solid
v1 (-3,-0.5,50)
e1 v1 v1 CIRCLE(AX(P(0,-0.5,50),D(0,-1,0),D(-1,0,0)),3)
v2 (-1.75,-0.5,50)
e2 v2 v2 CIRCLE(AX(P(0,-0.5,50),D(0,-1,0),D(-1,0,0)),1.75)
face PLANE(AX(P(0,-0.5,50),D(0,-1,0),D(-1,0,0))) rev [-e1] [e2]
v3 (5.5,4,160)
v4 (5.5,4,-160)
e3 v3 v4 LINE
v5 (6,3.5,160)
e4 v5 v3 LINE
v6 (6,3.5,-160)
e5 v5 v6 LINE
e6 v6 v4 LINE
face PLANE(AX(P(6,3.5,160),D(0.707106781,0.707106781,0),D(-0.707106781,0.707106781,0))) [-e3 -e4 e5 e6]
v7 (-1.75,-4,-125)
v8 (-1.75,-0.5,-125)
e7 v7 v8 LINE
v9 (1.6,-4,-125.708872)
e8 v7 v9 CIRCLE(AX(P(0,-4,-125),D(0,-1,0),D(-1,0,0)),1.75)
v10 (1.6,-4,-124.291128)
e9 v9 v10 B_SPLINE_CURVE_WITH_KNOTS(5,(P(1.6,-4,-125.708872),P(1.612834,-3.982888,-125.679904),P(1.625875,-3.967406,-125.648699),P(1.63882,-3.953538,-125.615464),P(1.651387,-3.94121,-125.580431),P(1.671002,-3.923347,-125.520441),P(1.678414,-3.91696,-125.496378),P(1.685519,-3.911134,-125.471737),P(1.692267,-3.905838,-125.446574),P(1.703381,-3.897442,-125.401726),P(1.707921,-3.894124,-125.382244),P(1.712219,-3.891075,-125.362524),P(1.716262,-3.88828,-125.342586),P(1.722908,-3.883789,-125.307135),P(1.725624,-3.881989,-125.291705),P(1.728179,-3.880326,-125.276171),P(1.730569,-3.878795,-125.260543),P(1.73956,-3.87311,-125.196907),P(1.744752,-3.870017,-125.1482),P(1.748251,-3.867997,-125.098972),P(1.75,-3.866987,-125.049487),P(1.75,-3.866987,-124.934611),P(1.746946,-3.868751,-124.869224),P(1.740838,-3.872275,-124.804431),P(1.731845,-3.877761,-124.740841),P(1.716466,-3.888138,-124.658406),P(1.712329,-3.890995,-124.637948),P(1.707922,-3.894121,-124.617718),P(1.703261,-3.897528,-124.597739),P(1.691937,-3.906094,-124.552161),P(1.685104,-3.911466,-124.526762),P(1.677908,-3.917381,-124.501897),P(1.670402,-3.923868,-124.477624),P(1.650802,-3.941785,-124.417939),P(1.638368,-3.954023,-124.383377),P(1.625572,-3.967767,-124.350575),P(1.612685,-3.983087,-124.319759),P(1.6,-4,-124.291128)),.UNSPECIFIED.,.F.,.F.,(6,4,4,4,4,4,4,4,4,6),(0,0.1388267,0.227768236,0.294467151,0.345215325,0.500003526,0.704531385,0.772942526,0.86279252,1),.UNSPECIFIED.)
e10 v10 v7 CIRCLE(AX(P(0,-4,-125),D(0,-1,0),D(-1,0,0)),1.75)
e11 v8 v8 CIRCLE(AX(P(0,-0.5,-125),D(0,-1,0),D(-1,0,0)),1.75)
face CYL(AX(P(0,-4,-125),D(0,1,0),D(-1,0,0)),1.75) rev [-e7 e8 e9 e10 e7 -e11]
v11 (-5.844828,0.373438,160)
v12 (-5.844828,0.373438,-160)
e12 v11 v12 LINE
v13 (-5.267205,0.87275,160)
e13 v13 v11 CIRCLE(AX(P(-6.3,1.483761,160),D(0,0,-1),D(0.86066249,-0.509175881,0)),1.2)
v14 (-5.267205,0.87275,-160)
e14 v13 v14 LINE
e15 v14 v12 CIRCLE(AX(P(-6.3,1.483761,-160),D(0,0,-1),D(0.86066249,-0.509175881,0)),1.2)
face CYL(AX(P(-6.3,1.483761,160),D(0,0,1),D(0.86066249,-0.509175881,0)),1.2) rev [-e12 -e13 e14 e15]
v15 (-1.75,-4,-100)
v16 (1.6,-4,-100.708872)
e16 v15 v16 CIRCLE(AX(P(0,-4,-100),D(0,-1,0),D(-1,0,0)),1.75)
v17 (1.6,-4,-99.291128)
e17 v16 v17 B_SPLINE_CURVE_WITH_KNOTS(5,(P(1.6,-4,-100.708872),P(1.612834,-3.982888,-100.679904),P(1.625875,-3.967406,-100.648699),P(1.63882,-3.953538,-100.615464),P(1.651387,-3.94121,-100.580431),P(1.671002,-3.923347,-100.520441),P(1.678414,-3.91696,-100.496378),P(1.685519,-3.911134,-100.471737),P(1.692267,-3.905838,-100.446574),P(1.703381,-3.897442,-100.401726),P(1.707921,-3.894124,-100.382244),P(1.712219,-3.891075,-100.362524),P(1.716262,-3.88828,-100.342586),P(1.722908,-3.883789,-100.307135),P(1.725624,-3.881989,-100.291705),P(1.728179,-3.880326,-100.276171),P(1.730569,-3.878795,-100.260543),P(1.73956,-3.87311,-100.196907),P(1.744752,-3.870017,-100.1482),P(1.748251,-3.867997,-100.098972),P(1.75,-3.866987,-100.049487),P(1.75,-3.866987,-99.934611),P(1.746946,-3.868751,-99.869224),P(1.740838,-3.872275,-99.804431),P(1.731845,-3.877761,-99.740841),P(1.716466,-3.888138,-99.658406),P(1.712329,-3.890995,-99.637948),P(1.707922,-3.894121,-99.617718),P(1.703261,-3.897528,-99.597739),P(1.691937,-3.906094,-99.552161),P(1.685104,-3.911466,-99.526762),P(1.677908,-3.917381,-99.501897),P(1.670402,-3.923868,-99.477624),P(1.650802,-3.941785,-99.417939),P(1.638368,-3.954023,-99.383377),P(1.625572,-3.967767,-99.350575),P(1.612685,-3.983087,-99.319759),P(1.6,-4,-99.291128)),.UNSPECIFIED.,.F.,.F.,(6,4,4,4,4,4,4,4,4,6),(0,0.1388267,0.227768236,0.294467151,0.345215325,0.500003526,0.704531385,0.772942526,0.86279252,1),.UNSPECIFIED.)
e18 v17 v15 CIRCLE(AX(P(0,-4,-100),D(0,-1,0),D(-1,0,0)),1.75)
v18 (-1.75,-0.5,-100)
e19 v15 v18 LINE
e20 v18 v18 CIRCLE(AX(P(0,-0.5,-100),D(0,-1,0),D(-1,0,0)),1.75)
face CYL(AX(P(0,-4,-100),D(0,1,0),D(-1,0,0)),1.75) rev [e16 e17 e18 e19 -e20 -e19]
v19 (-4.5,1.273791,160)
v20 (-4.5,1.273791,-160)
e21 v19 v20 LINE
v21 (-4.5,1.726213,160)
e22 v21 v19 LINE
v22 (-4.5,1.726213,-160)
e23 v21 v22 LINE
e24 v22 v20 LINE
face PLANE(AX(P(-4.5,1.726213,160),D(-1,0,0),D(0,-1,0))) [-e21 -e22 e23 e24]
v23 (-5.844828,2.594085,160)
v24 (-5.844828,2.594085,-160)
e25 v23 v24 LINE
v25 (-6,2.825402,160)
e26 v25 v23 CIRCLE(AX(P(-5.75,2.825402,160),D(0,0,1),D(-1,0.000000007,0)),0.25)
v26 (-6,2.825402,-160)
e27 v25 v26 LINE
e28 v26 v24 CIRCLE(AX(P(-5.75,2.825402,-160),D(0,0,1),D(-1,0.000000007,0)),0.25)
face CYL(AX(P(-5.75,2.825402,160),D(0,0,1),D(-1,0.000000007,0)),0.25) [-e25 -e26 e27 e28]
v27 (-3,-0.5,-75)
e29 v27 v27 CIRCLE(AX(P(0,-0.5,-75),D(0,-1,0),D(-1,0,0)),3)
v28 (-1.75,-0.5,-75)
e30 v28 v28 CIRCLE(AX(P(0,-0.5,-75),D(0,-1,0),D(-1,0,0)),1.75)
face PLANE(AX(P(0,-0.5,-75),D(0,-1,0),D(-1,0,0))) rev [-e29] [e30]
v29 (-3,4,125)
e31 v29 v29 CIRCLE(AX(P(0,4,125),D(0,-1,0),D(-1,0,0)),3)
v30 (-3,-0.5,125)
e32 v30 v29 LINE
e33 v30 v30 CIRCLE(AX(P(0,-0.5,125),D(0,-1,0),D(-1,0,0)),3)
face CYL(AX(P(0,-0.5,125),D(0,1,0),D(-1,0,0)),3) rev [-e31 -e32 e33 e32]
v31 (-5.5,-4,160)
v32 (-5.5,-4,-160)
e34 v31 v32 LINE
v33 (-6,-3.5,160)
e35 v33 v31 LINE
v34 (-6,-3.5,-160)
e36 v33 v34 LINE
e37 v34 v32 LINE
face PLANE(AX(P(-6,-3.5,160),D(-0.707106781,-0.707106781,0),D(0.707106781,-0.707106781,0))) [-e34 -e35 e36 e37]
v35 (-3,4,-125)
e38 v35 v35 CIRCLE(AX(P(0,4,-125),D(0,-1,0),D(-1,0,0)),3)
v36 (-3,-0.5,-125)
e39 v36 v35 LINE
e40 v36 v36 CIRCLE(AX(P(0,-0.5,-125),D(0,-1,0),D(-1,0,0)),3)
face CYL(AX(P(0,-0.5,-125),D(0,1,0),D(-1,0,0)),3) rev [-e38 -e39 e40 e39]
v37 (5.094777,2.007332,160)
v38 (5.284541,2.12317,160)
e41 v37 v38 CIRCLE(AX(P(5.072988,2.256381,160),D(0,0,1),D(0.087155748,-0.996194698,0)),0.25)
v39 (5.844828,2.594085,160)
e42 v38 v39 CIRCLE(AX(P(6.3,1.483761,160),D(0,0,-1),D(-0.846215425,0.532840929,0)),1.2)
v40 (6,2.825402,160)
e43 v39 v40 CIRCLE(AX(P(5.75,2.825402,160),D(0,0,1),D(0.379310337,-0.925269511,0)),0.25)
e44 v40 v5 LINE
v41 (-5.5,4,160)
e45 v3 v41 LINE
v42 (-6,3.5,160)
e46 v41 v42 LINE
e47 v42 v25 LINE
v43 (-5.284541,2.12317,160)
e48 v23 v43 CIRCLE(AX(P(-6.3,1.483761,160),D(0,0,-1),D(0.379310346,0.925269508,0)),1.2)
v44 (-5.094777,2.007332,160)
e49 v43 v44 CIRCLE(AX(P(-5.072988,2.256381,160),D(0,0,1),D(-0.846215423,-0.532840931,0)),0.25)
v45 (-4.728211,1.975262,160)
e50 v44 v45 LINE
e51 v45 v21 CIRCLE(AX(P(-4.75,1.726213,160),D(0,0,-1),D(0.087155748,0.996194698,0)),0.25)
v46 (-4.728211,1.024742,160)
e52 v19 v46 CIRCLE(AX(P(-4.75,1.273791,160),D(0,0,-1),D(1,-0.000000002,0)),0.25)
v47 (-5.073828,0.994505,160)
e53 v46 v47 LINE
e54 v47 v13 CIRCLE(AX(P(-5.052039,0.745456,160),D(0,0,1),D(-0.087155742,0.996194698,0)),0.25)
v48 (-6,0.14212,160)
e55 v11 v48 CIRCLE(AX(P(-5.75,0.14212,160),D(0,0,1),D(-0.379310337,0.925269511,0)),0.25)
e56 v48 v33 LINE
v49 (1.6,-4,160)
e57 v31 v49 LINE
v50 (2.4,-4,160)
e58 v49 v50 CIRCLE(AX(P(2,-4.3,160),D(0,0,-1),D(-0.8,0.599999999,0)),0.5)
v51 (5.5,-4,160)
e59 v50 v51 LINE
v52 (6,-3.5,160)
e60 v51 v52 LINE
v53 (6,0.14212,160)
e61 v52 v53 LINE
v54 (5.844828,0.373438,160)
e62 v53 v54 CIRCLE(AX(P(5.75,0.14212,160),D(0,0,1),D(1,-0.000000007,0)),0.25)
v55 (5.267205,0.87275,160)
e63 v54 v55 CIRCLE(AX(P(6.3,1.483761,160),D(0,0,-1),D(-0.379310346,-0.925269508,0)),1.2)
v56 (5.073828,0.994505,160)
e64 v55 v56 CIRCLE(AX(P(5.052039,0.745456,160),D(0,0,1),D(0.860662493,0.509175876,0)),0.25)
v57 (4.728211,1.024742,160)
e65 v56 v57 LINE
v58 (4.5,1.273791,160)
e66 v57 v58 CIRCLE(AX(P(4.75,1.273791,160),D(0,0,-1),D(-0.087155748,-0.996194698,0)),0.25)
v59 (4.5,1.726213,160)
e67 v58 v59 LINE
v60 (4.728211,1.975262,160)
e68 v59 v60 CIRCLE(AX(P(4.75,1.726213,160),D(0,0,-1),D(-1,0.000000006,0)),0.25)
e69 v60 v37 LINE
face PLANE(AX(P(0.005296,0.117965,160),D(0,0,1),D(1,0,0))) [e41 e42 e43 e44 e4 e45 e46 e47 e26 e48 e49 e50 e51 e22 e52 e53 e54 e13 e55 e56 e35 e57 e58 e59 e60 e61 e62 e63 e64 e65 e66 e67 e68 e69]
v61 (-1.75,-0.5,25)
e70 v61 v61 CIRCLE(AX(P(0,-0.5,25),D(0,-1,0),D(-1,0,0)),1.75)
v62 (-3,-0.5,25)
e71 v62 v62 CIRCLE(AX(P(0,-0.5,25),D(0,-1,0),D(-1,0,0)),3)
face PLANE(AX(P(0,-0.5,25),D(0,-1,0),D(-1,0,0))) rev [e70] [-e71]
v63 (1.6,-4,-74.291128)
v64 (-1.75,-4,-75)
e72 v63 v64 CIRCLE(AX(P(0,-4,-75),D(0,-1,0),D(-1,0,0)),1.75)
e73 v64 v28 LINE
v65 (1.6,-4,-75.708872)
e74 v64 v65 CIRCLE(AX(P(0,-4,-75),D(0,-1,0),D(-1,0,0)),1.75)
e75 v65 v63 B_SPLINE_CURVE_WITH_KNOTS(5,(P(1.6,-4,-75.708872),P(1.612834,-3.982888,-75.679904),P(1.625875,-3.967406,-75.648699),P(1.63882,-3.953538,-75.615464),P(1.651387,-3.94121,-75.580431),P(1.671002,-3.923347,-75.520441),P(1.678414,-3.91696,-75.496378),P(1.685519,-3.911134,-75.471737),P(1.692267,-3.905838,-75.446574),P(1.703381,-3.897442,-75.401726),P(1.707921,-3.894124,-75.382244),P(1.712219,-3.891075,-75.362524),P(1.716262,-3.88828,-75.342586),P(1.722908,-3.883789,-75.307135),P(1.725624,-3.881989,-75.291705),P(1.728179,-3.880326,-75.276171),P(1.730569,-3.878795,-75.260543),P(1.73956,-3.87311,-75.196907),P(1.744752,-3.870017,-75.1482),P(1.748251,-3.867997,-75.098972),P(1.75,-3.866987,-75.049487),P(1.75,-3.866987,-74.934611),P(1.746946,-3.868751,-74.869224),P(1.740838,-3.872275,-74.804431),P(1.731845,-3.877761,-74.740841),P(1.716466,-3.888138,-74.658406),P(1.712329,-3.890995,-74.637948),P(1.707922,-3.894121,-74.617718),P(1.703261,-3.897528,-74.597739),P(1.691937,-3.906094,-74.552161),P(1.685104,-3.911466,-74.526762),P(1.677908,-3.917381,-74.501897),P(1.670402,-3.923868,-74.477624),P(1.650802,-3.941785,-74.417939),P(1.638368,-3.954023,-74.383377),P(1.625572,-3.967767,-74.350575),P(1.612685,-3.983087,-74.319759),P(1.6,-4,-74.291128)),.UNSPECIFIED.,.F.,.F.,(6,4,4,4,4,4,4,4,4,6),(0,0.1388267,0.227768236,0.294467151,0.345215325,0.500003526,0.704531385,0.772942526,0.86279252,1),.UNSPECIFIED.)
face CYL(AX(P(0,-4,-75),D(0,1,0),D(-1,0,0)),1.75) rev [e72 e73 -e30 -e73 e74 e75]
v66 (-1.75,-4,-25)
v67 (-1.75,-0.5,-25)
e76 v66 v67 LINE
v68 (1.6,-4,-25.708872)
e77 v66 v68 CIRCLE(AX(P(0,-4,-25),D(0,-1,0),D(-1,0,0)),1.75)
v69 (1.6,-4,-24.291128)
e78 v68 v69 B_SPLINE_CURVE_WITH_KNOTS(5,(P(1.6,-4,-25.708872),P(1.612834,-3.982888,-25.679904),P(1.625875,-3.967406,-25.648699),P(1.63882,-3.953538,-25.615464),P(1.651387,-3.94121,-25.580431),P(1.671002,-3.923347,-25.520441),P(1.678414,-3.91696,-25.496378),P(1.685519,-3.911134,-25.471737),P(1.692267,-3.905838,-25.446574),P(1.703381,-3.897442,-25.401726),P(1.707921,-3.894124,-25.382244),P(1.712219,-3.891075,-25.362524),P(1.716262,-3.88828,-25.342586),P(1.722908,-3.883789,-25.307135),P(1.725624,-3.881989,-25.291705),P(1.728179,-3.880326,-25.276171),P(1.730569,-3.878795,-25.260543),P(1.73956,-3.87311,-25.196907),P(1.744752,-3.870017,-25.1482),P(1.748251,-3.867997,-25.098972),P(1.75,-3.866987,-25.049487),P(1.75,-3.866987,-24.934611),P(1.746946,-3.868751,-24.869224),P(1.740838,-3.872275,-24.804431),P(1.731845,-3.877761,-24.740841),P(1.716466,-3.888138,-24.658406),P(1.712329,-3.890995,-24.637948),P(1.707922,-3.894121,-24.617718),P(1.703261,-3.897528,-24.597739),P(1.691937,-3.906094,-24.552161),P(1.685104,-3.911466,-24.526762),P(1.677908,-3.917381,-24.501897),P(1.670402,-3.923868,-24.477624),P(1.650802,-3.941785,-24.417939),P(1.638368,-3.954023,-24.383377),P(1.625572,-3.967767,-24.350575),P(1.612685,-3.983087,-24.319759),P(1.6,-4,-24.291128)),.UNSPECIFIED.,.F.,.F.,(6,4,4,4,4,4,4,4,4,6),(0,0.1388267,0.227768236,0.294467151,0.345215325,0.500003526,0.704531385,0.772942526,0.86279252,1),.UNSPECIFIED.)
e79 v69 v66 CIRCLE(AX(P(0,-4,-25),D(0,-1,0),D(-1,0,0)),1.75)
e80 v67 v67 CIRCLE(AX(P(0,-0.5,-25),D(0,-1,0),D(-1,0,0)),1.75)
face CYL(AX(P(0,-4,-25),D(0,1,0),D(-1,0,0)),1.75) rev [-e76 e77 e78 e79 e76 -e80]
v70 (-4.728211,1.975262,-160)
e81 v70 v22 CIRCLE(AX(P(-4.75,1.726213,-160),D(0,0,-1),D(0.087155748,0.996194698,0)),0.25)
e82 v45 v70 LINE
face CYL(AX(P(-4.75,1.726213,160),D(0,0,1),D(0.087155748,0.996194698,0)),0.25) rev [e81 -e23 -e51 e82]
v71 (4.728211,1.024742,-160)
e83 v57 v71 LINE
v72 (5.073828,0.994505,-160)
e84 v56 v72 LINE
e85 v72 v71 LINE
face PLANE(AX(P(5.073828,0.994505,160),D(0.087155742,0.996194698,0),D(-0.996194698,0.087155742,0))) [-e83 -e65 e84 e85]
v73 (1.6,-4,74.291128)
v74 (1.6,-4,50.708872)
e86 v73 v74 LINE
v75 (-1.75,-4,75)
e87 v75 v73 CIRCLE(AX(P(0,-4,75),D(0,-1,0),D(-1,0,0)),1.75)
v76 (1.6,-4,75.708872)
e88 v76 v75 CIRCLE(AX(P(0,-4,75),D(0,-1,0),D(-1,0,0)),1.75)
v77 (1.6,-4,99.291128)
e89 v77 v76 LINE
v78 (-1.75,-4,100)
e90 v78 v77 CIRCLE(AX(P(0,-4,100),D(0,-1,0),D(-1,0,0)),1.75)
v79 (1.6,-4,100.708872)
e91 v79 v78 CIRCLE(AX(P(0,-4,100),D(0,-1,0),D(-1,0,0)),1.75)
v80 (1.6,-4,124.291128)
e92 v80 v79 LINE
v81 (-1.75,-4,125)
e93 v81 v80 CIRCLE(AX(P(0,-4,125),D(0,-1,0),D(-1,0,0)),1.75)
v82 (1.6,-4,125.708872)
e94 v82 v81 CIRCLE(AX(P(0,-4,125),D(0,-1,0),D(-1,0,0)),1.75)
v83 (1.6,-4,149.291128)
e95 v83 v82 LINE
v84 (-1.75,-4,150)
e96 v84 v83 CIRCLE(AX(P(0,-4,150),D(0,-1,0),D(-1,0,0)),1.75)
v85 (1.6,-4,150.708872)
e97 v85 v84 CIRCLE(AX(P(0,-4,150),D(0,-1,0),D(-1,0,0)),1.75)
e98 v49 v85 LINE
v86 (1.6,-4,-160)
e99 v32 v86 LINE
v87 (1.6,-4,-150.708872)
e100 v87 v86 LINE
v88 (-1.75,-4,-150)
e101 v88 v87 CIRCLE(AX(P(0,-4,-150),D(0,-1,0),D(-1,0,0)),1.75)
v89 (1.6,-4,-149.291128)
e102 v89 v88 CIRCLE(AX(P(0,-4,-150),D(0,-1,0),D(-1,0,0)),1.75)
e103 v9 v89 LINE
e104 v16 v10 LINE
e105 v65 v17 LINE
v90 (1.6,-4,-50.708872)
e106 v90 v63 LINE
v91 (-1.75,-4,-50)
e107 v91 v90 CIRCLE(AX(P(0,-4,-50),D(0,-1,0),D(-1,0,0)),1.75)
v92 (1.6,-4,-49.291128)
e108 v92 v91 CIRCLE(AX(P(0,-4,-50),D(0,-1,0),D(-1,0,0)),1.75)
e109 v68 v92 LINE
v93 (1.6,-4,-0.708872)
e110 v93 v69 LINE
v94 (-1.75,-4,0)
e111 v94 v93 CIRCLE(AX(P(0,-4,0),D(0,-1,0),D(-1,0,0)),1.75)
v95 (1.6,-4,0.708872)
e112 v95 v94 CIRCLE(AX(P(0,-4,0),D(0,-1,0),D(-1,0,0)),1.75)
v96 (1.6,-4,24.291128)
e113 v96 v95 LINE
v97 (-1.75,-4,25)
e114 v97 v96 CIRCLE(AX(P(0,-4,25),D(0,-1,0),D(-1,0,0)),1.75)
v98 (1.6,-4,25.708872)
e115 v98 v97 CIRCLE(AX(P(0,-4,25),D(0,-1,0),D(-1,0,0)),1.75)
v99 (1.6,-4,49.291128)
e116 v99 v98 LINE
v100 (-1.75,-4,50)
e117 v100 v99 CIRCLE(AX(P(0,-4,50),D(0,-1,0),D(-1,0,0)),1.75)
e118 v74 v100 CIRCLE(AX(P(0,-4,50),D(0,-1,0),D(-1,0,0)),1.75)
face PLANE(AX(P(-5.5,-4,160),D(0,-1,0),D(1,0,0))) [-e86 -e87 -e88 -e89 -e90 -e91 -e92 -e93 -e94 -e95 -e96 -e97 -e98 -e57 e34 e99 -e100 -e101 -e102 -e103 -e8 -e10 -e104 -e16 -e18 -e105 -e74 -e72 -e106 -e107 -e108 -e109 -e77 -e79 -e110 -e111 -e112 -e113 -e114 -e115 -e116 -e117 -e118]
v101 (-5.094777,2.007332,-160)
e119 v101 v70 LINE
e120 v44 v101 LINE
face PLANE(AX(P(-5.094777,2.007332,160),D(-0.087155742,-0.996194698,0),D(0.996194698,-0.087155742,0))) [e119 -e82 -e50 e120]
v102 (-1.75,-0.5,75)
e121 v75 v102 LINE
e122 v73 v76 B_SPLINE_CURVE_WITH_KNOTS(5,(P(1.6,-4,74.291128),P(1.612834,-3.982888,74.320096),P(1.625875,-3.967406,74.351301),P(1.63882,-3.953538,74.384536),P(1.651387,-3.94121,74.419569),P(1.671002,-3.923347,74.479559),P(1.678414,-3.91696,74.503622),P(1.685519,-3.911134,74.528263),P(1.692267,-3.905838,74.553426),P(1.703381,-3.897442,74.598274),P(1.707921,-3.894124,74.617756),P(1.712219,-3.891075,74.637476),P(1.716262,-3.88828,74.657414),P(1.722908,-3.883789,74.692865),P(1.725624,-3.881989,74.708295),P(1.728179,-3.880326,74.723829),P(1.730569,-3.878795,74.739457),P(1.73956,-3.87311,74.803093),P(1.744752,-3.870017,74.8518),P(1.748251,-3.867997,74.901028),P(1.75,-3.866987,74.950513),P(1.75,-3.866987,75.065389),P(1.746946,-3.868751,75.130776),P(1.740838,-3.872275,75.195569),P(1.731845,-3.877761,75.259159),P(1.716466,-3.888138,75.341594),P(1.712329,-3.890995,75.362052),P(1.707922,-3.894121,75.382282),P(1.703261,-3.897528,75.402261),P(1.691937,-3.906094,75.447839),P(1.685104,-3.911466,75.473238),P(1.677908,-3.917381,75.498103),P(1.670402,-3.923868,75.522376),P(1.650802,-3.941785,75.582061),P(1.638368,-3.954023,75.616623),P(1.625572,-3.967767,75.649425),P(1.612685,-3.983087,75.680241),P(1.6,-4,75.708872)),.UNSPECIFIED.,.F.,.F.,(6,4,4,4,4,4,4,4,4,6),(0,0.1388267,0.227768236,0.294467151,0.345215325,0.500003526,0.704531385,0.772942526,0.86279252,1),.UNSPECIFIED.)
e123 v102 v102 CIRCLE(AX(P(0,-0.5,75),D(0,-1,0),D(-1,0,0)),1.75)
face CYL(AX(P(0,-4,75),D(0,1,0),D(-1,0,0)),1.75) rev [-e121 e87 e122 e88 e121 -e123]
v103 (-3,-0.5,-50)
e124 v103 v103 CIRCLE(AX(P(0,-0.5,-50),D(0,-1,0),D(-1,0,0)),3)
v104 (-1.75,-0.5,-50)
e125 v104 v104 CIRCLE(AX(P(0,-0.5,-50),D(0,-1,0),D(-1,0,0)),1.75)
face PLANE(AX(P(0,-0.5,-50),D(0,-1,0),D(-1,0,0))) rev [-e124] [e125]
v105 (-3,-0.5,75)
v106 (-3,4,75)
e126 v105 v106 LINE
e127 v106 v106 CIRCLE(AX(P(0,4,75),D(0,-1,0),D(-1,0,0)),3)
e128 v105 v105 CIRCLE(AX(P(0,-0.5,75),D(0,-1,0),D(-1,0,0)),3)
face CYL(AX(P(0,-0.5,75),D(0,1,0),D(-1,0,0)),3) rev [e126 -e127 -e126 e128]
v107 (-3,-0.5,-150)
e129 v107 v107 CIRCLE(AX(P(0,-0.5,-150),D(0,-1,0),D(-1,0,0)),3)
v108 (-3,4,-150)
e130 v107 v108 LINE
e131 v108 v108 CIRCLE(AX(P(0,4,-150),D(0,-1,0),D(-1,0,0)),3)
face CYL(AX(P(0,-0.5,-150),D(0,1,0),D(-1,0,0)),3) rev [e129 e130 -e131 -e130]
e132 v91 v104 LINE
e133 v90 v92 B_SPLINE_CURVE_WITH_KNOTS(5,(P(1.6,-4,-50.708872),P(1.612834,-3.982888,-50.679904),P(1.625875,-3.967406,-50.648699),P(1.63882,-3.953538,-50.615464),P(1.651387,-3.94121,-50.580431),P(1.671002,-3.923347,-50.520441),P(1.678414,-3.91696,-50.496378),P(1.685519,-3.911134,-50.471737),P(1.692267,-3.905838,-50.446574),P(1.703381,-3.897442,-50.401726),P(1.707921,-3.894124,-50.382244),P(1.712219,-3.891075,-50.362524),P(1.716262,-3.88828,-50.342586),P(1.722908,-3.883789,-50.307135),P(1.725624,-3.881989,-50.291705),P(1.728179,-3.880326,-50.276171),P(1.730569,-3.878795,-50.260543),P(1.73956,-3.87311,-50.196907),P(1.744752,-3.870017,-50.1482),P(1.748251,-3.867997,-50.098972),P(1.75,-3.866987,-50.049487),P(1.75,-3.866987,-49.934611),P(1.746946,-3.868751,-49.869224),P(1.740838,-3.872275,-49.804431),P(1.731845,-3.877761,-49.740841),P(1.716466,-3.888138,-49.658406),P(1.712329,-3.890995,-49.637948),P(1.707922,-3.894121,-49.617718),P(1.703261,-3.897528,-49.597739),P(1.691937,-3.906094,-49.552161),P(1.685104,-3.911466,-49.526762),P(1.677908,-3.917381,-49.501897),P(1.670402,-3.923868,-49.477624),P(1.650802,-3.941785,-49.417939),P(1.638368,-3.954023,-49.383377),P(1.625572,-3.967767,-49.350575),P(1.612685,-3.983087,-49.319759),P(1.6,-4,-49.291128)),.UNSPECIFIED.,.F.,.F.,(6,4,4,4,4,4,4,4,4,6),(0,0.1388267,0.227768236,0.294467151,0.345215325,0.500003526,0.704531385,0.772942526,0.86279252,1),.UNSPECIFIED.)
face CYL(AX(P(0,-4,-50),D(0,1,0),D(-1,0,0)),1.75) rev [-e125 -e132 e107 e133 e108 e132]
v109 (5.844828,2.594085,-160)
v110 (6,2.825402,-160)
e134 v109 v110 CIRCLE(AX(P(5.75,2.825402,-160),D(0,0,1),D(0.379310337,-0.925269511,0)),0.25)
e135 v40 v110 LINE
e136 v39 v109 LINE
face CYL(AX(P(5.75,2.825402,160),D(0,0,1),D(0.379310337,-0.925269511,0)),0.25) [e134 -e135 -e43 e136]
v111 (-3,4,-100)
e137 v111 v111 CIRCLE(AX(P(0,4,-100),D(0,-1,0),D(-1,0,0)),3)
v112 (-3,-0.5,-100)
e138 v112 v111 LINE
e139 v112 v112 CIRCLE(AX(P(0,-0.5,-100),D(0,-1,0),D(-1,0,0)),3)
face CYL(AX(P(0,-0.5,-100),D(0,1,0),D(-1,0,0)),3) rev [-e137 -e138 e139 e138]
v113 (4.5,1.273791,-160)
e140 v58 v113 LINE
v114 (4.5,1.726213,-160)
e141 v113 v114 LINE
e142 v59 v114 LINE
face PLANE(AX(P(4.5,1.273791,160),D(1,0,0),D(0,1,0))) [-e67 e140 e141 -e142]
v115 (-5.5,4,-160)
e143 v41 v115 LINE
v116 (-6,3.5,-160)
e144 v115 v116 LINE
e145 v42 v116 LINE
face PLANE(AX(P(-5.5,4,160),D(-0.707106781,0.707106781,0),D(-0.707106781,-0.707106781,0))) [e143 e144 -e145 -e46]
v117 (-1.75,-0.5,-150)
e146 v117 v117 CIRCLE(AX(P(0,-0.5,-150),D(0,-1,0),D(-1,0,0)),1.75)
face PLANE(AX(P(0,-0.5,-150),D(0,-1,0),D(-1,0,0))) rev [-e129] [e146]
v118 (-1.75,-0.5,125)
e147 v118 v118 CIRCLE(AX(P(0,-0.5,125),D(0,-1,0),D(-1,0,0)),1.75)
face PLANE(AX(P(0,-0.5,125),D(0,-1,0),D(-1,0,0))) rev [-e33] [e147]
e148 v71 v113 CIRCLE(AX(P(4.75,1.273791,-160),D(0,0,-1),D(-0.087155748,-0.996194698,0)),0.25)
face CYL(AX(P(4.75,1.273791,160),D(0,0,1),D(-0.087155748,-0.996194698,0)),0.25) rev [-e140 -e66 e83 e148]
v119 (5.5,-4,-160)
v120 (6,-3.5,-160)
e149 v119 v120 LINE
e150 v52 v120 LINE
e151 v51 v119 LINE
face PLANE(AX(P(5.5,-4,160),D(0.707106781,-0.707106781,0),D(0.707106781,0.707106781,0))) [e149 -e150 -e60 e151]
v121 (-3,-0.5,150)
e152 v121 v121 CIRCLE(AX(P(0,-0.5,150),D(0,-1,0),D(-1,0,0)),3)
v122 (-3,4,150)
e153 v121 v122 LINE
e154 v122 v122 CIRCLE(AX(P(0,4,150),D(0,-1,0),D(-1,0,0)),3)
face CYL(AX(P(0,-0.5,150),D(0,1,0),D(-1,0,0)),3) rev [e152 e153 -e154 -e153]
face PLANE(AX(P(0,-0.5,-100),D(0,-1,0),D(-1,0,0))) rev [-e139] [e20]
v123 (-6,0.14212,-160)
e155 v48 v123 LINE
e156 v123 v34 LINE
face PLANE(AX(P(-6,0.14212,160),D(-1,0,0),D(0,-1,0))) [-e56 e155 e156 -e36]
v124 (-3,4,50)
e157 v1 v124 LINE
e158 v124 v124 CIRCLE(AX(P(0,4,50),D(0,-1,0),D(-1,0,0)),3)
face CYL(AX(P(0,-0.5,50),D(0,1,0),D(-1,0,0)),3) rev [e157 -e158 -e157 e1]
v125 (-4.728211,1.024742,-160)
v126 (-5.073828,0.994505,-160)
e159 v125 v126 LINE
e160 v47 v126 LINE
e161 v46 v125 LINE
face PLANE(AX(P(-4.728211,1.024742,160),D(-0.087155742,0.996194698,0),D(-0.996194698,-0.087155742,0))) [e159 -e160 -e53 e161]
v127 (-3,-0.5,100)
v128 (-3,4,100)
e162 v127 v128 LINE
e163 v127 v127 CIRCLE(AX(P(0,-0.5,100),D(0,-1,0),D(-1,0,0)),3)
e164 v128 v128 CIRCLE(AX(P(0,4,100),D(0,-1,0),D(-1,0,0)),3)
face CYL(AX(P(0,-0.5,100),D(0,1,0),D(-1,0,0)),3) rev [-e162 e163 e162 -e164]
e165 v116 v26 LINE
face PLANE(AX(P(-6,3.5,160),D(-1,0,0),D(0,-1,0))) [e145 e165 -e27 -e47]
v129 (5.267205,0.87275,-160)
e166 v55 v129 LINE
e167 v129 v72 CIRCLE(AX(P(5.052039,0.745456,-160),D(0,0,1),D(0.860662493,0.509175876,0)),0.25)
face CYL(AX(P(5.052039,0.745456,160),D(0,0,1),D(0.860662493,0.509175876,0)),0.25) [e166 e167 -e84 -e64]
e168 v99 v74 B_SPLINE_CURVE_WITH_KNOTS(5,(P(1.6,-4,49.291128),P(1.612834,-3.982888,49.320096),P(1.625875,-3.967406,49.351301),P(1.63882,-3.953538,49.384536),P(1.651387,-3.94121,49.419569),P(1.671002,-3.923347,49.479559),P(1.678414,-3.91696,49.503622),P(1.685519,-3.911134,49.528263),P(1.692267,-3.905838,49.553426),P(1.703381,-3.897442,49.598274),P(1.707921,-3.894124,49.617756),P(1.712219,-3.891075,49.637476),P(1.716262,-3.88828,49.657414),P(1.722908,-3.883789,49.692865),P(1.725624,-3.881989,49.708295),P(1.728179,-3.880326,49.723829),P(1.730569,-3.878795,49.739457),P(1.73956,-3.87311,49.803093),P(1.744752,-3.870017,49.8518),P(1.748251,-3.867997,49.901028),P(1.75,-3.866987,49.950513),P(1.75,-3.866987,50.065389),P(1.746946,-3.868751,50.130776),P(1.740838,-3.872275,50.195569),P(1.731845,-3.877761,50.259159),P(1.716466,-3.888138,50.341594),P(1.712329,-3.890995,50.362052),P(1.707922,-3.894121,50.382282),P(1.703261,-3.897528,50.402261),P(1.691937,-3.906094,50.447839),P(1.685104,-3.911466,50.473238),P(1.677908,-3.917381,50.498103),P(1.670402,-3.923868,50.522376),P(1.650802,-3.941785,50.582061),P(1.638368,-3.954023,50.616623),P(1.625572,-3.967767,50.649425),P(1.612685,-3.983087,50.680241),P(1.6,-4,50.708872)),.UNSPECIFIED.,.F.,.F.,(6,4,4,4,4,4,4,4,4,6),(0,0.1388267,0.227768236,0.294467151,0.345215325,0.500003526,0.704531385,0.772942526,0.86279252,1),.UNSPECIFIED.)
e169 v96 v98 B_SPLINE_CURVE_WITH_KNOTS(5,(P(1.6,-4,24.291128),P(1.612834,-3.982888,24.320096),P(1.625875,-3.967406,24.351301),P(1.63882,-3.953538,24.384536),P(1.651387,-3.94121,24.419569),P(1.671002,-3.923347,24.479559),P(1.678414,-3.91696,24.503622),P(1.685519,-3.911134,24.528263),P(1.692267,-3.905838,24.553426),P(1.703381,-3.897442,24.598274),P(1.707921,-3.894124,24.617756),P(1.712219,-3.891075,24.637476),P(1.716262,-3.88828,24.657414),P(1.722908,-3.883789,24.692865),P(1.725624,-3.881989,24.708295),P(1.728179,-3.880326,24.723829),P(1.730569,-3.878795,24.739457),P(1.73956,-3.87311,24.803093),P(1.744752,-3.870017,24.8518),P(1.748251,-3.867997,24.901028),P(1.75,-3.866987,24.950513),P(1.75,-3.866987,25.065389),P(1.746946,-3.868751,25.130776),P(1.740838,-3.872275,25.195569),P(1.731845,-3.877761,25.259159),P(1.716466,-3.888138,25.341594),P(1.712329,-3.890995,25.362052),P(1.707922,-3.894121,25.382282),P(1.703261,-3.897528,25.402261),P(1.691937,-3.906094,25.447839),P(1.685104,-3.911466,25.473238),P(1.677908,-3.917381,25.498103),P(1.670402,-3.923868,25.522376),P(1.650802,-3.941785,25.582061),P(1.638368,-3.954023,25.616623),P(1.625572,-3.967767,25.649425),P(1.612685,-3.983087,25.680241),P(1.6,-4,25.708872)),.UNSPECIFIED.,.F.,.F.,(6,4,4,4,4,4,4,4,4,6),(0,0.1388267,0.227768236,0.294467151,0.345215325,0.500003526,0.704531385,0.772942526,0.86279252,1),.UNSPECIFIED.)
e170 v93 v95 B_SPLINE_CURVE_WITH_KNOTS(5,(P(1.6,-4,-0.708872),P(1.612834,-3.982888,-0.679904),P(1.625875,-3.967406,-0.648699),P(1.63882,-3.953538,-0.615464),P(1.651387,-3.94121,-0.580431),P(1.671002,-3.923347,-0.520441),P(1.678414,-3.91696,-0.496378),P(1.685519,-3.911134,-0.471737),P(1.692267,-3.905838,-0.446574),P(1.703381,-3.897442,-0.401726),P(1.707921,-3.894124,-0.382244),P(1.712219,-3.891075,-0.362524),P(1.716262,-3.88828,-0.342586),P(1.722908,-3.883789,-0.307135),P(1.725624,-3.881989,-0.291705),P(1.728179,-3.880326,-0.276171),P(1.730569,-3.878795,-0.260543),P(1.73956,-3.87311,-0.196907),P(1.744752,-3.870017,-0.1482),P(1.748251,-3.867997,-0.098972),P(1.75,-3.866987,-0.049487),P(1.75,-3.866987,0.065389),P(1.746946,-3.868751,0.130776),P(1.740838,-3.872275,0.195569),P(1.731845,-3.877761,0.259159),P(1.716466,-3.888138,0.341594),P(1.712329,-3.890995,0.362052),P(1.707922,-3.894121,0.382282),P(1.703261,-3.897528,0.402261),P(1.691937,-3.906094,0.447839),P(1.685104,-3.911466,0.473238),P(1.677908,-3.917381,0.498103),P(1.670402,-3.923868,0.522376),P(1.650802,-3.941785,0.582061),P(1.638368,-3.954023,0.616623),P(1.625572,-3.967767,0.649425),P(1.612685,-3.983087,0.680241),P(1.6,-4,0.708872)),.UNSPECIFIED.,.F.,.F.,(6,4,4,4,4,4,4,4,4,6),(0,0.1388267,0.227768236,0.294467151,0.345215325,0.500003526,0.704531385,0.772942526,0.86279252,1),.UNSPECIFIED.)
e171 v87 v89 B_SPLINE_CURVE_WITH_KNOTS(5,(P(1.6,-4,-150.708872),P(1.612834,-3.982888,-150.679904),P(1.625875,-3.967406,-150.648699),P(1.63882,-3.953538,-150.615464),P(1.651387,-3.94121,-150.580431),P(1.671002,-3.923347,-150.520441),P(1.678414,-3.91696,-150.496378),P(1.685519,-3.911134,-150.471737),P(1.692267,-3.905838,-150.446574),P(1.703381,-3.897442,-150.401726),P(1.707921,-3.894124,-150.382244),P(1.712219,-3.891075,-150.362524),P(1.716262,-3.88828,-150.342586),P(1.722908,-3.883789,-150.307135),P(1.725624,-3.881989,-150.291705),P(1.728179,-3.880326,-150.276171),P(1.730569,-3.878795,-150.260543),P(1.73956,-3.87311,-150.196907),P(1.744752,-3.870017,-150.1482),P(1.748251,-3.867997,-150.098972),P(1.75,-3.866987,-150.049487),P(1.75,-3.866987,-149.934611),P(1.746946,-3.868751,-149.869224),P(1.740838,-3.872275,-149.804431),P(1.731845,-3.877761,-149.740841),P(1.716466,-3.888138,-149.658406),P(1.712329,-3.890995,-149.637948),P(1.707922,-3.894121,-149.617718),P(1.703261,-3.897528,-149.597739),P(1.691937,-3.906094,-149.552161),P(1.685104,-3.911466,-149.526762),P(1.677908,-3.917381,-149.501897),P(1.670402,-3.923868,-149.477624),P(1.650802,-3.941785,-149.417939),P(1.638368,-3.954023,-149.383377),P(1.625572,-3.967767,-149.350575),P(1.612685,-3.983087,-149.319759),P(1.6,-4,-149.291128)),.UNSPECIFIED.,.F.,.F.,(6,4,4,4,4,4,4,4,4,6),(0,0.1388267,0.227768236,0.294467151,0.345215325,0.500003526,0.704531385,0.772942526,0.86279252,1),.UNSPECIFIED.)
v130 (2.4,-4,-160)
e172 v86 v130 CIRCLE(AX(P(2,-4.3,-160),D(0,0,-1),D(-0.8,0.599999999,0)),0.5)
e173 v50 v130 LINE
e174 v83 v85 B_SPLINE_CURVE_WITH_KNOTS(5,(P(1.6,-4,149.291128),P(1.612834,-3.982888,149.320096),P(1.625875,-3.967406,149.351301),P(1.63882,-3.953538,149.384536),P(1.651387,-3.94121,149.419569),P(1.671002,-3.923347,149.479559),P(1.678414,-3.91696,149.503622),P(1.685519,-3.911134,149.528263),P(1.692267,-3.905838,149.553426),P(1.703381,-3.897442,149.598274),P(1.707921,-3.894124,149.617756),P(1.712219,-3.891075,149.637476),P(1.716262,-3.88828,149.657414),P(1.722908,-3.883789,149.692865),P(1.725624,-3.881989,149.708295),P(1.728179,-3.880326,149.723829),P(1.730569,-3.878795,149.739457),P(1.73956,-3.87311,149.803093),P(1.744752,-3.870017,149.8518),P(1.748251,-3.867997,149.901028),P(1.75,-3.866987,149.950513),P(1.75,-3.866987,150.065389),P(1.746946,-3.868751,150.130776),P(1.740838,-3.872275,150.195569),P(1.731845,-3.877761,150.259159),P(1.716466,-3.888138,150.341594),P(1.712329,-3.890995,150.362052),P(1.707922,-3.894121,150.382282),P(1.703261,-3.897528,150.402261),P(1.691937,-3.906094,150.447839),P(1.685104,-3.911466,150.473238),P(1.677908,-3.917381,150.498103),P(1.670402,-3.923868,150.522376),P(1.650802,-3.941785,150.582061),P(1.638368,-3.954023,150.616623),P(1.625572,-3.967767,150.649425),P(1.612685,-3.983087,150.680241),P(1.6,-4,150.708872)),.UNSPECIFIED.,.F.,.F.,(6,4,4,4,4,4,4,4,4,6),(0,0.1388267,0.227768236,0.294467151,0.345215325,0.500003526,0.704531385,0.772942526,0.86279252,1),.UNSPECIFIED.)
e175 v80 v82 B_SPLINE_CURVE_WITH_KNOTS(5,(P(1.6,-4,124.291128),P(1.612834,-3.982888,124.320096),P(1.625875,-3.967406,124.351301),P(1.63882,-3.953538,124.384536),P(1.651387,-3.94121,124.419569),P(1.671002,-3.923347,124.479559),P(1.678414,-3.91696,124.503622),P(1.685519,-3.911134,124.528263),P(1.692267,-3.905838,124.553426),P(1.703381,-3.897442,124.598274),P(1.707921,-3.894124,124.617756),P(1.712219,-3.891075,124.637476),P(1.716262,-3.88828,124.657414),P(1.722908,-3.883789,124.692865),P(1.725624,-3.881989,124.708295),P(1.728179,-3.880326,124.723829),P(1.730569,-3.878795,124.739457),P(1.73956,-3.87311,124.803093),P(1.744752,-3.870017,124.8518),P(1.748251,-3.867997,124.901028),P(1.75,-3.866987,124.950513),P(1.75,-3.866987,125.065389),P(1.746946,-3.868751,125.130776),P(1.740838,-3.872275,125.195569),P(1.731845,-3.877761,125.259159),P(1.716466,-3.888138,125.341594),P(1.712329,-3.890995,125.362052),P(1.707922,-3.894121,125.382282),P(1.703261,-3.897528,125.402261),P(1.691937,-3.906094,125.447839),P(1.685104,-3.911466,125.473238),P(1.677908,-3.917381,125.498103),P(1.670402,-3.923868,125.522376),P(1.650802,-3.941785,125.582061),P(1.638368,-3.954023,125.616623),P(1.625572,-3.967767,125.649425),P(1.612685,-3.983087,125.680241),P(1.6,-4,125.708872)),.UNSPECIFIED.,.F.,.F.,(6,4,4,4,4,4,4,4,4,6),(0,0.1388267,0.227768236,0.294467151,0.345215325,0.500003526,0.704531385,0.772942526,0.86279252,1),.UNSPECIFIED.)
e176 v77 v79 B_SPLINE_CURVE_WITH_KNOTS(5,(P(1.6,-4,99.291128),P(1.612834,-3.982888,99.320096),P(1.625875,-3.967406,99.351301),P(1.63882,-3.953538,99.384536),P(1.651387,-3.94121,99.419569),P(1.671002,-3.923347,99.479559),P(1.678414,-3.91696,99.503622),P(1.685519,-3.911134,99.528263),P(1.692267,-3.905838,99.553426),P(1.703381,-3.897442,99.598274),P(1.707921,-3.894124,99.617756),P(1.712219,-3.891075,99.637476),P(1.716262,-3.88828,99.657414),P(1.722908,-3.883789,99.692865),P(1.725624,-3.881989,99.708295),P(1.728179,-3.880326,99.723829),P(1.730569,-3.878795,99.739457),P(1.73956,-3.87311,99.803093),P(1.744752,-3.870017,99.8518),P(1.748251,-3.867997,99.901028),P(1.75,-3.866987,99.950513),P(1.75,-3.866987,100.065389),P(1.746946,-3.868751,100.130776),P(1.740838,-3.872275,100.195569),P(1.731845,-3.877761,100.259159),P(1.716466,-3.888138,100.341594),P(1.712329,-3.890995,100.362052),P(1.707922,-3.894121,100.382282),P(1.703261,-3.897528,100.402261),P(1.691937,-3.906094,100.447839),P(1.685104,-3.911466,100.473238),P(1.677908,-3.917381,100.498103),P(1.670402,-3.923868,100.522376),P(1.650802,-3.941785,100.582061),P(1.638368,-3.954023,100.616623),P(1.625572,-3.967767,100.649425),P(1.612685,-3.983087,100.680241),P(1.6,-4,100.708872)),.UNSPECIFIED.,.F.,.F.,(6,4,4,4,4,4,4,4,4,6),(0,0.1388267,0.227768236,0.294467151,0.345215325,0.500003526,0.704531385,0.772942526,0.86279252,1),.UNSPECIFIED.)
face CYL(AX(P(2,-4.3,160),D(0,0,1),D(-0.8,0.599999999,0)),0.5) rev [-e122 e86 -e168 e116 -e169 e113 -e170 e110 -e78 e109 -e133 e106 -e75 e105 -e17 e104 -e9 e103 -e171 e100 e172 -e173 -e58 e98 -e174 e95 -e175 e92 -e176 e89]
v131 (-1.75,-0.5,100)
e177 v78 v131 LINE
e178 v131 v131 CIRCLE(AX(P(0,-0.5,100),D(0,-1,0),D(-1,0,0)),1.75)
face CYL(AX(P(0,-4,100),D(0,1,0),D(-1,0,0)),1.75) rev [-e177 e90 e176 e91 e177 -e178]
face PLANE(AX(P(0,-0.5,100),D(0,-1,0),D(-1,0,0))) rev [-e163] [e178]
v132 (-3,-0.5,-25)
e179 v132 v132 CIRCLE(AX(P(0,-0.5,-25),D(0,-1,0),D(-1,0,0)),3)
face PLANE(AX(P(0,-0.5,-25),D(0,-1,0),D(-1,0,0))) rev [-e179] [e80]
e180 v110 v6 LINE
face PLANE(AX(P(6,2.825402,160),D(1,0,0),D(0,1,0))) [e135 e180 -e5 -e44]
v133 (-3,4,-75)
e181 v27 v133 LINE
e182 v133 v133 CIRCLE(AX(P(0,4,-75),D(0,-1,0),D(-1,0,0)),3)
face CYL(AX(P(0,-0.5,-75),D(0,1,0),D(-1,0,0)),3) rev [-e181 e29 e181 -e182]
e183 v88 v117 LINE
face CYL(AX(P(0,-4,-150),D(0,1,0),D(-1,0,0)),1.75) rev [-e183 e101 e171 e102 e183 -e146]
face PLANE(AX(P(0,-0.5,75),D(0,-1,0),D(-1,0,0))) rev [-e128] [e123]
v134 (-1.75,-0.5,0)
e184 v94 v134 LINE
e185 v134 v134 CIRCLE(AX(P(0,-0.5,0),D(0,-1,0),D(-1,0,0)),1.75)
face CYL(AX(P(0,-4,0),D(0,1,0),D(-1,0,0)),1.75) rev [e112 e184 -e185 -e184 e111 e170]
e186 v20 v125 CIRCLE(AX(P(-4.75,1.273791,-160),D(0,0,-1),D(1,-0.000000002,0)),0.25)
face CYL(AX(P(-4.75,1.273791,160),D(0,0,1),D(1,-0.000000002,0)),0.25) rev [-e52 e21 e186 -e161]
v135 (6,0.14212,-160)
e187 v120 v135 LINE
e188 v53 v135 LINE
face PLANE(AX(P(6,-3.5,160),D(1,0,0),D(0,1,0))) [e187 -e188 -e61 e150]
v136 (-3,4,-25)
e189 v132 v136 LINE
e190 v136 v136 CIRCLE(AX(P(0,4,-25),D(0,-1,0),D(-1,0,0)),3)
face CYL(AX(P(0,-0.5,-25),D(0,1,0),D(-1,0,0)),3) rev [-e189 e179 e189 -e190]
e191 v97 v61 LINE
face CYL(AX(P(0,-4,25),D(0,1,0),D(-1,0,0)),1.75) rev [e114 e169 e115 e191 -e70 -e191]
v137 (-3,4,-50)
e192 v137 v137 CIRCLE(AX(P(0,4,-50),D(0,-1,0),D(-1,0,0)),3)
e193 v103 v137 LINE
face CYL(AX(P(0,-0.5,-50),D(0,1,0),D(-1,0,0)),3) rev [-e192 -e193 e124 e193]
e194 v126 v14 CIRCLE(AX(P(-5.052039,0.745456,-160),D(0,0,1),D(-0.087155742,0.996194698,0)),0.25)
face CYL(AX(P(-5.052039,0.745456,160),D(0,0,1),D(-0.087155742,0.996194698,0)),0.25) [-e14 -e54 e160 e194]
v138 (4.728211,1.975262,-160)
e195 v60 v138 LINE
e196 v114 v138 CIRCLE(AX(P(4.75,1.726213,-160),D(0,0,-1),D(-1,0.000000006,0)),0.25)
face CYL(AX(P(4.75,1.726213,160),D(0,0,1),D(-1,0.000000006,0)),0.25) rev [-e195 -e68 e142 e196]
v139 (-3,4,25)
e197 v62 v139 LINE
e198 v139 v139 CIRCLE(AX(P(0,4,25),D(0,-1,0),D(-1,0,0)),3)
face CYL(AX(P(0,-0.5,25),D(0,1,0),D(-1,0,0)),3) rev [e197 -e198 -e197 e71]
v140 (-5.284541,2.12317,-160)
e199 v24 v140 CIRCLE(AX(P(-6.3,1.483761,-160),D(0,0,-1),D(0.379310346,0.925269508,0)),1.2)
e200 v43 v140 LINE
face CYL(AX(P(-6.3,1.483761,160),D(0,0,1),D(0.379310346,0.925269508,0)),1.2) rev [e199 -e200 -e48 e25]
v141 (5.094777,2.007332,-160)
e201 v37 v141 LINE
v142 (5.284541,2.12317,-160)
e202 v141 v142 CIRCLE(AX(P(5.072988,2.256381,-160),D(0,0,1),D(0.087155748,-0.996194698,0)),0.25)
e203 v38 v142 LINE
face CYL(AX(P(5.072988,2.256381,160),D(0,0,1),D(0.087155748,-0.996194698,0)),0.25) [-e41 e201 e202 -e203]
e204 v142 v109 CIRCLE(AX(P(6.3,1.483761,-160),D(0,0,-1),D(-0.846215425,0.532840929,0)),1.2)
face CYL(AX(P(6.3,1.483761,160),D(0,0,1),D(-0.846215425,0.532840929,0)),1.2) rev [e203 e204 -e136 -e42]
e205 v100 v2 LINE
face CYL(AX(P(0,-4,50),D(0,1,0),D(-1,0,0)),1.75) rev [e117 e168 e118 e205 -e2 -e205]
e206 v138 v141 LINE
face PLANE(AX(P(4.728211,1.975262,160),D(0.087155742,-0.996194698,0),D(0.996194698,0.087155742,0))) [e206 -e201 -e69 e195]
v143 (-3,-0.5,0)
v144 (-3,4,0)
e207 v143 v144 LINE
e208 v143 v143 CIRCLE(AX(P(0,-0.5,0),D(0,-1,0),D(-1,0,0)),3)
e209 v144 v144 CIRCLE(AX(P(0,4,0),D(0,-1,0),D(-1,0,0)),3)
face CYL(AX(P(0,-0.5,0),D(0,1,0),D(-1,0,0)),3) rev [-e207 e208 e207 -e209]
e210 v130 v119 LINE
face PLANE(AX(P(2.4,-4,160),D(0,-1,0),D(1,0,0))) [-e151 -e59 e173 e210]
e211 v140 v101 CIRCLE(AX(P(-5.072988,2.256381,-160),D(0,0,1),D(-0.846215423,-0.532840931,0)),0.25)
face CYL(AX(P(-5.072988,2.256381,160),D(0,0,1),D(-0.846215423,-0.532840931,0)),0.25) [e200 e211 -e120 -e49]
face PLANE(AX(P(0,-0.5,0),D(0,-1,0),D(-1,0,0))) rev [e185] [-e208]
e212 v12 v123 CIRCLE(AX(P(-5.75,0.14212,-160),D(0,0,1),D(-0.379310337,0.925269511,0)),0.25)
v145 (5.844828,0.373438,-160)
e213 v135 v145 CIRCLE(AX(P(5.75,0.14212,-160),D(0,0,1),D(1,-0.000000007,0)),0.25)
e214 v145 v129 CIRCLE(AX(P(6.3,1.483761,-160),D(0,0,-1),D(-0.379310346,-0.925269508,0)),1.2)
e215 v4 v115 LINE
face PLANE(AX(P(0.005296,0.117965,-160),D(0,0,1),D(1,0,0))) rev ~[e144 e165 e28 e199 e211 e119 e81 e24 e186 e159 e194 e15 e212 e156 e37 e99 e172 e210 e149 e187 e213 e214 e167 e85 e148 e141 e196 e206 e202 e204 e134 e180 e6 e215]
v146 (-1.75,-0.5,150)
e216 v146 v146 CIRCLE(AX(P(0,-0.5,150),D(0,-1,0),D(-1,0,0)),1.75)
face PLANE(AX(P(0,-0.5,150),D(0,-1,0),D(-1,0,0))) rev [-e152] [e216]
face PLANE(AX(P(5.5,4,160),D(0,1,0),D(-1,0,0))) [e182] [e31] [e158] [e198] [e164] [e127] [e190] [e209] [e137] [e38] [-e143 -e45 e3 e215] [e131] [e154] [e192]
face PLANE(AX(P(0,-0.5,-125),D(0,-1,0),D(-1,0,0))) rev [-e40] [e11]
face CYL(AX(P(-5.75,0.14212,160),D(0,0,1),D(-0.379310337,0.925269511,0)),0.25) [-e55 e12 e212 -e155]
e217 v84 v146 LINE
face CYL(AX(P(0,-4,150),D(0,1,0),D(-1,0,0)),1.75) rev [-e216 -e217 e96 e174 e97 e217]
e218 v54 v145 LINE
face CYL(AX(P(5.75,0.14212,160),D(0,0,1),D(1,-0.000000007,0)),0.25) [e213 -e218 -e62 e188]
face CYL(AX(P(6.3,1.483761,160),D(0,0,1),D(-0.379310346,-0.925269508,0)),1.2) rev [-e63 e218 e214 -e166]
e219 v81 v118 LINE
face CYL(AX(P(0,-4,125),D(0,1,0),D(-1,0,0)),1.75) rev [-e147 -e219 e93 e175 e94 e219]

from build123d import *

# Parameters (mm, degrees)
BOSS_EXTRUDE1_START = 160
BOSS_EXTRUDE1_DEPTH = 320
LPATTERN1_COUNT     = 13
LPATTERN1_PITCH     = 25


with BuildPart() as part:
    # Sketch3 → Boss-Extrude1 (new body)
    with BuildSketch(Plane.XY.offset(BOSS_EXTRUDE1_START)):
        with BuildLine():
            Line((-6, 0.142120421), (-6, -3.5))
            Line((-6, -3.5), (-5.5, -4))
            Line((-5.5, -4), (1.6, -4))
            ThreePointArc((1.6, -4), (2, -3.8), (2.4, -4.000000001))
            Line((2.4, -4.000000001), (5.5, -4.000000001))
            Line((5.5, -4.000000001), (6, -3.500000001))
            Line((6, -3.500000001), (6, 0.14212042))
            ThreePointArc((6, 0.14212042), (5.9576137, 0.281391924), (5.844827586, 0.373437797))
            ThreePointArc((5.844827586, 0.373437797), (5.51524529, 0.575928598), (5.267205011, 0.87275015))
            ThreePointArc((5.267205011, 0.87275015), (5.185241933, 0.957014877), (5.073828324, 0.994504855))
            Line((5.073828324, 0.994504855), (4.728211064, 1.024742447))
            ThreePointArc((4.728211064, 1.024742447), (4.565680666, 1.10489357), (4.5, 1.273791122))
            Line((4.5, 1.273791122), (4.5, 1.726212879))
            ThreePointArc((4.5, 1.726212879), (4.565680666, 1.89511043), (4.728211064, 1.975261553))
            Line((4.728211064, 1.975261553), (5.09477657, 2.007331879))
            ThreePointArc((5.09477657, 2.007331879), (5.203244499, 2.042995575), (5.284541491, 2.123170322))
            ThreePointArc((5.284541491, 2.123170322), (5.527906161, 2.402385779), (5.844827586, 2.594084617))
            ThreePointArc((5.844827586, 2.594084617), (5.9576137, 2.68613049), (6, 2.825401993))
            Line((6, 2.825401993), (6, 3.5))
            Line((6, 3.5), (5.5, 4))
            Line((5.5, 4), (-5.5, 4))
            Line((-5.5, 4), (-6, 3.5))
            Line((-6, 3.5), (-6, 2.825401994))
            ThreePointArc((-6, 2.825401994), (-5.9576137, 2.68613049), (-5.844827586, 2.594084617))
            ThreePointArc((-5.844827586, 2.594084617), (-5.527906161, 2.402385779), (-5.284541491, 2.123170322))
            ThreePointArc((-5.284541491, 2.123170322), (-5.203244499, 2.042995575), (-5.09477657, 2.007331879))
            Line((-5.09477657, 2.007331879), (-4.728211064, 1.975261553))
            ThreePointArc((-4.728211064, 1.975261553), (-4.565680666, 1.89511043), (-4.5, 1.726212879))
            Line((-4.5, 1.726212879), (-4.5, 1.273791122))
            ThreePointArc((-4.5, 1.273791122), (-4.565680666, 1.10489357), (-4.728211064, 1.024742447))
            Line((-4.728211064, 1.024742447), (-5.073828324, 0.994504855))
            ThreePointArc((-5.073828324, 0.994504855), (-5.185241933, 0.957014877), (-5.267205011, 0.87275015))
            ThreePointArc((-5.267205011, 0.87275015), (-5.51524529, 0.575928598), (-5.844827586, 0.373437797))
            ThreePointArc((-5.844827586, 0.373437797), (-5.9576137, 0.281391924), (-6, 0.142120421))
        make_face()
    extrude(amount=-BOSS_EXTRUDE1_DEPTH)

    # Sketch4 → Cut-Revolve1 (revolve, cut)
    with BuildSketch(Plane.XY.offset(150)):
        Polygon((0, 4), (0, -4), (-1.75, -4), (-1.75, -0.5), (-3, -0.5), (-3, 4), align=None)
    cut_revolve1 = revolve(axis=Axis((0, 4, 150), (0, -1, 0)), mode=Mode.SUBTRACT)

    # LPattern1: Cut-Revolve1 ×13
    with Locations(*[(0, 0, -i * LPATTERN1_PITCH) for i in range(1, LPATTERN1_COUNT)]):
        add(cut_revolve1, mode=Mode.SUBTRACT)


solid = part.part
